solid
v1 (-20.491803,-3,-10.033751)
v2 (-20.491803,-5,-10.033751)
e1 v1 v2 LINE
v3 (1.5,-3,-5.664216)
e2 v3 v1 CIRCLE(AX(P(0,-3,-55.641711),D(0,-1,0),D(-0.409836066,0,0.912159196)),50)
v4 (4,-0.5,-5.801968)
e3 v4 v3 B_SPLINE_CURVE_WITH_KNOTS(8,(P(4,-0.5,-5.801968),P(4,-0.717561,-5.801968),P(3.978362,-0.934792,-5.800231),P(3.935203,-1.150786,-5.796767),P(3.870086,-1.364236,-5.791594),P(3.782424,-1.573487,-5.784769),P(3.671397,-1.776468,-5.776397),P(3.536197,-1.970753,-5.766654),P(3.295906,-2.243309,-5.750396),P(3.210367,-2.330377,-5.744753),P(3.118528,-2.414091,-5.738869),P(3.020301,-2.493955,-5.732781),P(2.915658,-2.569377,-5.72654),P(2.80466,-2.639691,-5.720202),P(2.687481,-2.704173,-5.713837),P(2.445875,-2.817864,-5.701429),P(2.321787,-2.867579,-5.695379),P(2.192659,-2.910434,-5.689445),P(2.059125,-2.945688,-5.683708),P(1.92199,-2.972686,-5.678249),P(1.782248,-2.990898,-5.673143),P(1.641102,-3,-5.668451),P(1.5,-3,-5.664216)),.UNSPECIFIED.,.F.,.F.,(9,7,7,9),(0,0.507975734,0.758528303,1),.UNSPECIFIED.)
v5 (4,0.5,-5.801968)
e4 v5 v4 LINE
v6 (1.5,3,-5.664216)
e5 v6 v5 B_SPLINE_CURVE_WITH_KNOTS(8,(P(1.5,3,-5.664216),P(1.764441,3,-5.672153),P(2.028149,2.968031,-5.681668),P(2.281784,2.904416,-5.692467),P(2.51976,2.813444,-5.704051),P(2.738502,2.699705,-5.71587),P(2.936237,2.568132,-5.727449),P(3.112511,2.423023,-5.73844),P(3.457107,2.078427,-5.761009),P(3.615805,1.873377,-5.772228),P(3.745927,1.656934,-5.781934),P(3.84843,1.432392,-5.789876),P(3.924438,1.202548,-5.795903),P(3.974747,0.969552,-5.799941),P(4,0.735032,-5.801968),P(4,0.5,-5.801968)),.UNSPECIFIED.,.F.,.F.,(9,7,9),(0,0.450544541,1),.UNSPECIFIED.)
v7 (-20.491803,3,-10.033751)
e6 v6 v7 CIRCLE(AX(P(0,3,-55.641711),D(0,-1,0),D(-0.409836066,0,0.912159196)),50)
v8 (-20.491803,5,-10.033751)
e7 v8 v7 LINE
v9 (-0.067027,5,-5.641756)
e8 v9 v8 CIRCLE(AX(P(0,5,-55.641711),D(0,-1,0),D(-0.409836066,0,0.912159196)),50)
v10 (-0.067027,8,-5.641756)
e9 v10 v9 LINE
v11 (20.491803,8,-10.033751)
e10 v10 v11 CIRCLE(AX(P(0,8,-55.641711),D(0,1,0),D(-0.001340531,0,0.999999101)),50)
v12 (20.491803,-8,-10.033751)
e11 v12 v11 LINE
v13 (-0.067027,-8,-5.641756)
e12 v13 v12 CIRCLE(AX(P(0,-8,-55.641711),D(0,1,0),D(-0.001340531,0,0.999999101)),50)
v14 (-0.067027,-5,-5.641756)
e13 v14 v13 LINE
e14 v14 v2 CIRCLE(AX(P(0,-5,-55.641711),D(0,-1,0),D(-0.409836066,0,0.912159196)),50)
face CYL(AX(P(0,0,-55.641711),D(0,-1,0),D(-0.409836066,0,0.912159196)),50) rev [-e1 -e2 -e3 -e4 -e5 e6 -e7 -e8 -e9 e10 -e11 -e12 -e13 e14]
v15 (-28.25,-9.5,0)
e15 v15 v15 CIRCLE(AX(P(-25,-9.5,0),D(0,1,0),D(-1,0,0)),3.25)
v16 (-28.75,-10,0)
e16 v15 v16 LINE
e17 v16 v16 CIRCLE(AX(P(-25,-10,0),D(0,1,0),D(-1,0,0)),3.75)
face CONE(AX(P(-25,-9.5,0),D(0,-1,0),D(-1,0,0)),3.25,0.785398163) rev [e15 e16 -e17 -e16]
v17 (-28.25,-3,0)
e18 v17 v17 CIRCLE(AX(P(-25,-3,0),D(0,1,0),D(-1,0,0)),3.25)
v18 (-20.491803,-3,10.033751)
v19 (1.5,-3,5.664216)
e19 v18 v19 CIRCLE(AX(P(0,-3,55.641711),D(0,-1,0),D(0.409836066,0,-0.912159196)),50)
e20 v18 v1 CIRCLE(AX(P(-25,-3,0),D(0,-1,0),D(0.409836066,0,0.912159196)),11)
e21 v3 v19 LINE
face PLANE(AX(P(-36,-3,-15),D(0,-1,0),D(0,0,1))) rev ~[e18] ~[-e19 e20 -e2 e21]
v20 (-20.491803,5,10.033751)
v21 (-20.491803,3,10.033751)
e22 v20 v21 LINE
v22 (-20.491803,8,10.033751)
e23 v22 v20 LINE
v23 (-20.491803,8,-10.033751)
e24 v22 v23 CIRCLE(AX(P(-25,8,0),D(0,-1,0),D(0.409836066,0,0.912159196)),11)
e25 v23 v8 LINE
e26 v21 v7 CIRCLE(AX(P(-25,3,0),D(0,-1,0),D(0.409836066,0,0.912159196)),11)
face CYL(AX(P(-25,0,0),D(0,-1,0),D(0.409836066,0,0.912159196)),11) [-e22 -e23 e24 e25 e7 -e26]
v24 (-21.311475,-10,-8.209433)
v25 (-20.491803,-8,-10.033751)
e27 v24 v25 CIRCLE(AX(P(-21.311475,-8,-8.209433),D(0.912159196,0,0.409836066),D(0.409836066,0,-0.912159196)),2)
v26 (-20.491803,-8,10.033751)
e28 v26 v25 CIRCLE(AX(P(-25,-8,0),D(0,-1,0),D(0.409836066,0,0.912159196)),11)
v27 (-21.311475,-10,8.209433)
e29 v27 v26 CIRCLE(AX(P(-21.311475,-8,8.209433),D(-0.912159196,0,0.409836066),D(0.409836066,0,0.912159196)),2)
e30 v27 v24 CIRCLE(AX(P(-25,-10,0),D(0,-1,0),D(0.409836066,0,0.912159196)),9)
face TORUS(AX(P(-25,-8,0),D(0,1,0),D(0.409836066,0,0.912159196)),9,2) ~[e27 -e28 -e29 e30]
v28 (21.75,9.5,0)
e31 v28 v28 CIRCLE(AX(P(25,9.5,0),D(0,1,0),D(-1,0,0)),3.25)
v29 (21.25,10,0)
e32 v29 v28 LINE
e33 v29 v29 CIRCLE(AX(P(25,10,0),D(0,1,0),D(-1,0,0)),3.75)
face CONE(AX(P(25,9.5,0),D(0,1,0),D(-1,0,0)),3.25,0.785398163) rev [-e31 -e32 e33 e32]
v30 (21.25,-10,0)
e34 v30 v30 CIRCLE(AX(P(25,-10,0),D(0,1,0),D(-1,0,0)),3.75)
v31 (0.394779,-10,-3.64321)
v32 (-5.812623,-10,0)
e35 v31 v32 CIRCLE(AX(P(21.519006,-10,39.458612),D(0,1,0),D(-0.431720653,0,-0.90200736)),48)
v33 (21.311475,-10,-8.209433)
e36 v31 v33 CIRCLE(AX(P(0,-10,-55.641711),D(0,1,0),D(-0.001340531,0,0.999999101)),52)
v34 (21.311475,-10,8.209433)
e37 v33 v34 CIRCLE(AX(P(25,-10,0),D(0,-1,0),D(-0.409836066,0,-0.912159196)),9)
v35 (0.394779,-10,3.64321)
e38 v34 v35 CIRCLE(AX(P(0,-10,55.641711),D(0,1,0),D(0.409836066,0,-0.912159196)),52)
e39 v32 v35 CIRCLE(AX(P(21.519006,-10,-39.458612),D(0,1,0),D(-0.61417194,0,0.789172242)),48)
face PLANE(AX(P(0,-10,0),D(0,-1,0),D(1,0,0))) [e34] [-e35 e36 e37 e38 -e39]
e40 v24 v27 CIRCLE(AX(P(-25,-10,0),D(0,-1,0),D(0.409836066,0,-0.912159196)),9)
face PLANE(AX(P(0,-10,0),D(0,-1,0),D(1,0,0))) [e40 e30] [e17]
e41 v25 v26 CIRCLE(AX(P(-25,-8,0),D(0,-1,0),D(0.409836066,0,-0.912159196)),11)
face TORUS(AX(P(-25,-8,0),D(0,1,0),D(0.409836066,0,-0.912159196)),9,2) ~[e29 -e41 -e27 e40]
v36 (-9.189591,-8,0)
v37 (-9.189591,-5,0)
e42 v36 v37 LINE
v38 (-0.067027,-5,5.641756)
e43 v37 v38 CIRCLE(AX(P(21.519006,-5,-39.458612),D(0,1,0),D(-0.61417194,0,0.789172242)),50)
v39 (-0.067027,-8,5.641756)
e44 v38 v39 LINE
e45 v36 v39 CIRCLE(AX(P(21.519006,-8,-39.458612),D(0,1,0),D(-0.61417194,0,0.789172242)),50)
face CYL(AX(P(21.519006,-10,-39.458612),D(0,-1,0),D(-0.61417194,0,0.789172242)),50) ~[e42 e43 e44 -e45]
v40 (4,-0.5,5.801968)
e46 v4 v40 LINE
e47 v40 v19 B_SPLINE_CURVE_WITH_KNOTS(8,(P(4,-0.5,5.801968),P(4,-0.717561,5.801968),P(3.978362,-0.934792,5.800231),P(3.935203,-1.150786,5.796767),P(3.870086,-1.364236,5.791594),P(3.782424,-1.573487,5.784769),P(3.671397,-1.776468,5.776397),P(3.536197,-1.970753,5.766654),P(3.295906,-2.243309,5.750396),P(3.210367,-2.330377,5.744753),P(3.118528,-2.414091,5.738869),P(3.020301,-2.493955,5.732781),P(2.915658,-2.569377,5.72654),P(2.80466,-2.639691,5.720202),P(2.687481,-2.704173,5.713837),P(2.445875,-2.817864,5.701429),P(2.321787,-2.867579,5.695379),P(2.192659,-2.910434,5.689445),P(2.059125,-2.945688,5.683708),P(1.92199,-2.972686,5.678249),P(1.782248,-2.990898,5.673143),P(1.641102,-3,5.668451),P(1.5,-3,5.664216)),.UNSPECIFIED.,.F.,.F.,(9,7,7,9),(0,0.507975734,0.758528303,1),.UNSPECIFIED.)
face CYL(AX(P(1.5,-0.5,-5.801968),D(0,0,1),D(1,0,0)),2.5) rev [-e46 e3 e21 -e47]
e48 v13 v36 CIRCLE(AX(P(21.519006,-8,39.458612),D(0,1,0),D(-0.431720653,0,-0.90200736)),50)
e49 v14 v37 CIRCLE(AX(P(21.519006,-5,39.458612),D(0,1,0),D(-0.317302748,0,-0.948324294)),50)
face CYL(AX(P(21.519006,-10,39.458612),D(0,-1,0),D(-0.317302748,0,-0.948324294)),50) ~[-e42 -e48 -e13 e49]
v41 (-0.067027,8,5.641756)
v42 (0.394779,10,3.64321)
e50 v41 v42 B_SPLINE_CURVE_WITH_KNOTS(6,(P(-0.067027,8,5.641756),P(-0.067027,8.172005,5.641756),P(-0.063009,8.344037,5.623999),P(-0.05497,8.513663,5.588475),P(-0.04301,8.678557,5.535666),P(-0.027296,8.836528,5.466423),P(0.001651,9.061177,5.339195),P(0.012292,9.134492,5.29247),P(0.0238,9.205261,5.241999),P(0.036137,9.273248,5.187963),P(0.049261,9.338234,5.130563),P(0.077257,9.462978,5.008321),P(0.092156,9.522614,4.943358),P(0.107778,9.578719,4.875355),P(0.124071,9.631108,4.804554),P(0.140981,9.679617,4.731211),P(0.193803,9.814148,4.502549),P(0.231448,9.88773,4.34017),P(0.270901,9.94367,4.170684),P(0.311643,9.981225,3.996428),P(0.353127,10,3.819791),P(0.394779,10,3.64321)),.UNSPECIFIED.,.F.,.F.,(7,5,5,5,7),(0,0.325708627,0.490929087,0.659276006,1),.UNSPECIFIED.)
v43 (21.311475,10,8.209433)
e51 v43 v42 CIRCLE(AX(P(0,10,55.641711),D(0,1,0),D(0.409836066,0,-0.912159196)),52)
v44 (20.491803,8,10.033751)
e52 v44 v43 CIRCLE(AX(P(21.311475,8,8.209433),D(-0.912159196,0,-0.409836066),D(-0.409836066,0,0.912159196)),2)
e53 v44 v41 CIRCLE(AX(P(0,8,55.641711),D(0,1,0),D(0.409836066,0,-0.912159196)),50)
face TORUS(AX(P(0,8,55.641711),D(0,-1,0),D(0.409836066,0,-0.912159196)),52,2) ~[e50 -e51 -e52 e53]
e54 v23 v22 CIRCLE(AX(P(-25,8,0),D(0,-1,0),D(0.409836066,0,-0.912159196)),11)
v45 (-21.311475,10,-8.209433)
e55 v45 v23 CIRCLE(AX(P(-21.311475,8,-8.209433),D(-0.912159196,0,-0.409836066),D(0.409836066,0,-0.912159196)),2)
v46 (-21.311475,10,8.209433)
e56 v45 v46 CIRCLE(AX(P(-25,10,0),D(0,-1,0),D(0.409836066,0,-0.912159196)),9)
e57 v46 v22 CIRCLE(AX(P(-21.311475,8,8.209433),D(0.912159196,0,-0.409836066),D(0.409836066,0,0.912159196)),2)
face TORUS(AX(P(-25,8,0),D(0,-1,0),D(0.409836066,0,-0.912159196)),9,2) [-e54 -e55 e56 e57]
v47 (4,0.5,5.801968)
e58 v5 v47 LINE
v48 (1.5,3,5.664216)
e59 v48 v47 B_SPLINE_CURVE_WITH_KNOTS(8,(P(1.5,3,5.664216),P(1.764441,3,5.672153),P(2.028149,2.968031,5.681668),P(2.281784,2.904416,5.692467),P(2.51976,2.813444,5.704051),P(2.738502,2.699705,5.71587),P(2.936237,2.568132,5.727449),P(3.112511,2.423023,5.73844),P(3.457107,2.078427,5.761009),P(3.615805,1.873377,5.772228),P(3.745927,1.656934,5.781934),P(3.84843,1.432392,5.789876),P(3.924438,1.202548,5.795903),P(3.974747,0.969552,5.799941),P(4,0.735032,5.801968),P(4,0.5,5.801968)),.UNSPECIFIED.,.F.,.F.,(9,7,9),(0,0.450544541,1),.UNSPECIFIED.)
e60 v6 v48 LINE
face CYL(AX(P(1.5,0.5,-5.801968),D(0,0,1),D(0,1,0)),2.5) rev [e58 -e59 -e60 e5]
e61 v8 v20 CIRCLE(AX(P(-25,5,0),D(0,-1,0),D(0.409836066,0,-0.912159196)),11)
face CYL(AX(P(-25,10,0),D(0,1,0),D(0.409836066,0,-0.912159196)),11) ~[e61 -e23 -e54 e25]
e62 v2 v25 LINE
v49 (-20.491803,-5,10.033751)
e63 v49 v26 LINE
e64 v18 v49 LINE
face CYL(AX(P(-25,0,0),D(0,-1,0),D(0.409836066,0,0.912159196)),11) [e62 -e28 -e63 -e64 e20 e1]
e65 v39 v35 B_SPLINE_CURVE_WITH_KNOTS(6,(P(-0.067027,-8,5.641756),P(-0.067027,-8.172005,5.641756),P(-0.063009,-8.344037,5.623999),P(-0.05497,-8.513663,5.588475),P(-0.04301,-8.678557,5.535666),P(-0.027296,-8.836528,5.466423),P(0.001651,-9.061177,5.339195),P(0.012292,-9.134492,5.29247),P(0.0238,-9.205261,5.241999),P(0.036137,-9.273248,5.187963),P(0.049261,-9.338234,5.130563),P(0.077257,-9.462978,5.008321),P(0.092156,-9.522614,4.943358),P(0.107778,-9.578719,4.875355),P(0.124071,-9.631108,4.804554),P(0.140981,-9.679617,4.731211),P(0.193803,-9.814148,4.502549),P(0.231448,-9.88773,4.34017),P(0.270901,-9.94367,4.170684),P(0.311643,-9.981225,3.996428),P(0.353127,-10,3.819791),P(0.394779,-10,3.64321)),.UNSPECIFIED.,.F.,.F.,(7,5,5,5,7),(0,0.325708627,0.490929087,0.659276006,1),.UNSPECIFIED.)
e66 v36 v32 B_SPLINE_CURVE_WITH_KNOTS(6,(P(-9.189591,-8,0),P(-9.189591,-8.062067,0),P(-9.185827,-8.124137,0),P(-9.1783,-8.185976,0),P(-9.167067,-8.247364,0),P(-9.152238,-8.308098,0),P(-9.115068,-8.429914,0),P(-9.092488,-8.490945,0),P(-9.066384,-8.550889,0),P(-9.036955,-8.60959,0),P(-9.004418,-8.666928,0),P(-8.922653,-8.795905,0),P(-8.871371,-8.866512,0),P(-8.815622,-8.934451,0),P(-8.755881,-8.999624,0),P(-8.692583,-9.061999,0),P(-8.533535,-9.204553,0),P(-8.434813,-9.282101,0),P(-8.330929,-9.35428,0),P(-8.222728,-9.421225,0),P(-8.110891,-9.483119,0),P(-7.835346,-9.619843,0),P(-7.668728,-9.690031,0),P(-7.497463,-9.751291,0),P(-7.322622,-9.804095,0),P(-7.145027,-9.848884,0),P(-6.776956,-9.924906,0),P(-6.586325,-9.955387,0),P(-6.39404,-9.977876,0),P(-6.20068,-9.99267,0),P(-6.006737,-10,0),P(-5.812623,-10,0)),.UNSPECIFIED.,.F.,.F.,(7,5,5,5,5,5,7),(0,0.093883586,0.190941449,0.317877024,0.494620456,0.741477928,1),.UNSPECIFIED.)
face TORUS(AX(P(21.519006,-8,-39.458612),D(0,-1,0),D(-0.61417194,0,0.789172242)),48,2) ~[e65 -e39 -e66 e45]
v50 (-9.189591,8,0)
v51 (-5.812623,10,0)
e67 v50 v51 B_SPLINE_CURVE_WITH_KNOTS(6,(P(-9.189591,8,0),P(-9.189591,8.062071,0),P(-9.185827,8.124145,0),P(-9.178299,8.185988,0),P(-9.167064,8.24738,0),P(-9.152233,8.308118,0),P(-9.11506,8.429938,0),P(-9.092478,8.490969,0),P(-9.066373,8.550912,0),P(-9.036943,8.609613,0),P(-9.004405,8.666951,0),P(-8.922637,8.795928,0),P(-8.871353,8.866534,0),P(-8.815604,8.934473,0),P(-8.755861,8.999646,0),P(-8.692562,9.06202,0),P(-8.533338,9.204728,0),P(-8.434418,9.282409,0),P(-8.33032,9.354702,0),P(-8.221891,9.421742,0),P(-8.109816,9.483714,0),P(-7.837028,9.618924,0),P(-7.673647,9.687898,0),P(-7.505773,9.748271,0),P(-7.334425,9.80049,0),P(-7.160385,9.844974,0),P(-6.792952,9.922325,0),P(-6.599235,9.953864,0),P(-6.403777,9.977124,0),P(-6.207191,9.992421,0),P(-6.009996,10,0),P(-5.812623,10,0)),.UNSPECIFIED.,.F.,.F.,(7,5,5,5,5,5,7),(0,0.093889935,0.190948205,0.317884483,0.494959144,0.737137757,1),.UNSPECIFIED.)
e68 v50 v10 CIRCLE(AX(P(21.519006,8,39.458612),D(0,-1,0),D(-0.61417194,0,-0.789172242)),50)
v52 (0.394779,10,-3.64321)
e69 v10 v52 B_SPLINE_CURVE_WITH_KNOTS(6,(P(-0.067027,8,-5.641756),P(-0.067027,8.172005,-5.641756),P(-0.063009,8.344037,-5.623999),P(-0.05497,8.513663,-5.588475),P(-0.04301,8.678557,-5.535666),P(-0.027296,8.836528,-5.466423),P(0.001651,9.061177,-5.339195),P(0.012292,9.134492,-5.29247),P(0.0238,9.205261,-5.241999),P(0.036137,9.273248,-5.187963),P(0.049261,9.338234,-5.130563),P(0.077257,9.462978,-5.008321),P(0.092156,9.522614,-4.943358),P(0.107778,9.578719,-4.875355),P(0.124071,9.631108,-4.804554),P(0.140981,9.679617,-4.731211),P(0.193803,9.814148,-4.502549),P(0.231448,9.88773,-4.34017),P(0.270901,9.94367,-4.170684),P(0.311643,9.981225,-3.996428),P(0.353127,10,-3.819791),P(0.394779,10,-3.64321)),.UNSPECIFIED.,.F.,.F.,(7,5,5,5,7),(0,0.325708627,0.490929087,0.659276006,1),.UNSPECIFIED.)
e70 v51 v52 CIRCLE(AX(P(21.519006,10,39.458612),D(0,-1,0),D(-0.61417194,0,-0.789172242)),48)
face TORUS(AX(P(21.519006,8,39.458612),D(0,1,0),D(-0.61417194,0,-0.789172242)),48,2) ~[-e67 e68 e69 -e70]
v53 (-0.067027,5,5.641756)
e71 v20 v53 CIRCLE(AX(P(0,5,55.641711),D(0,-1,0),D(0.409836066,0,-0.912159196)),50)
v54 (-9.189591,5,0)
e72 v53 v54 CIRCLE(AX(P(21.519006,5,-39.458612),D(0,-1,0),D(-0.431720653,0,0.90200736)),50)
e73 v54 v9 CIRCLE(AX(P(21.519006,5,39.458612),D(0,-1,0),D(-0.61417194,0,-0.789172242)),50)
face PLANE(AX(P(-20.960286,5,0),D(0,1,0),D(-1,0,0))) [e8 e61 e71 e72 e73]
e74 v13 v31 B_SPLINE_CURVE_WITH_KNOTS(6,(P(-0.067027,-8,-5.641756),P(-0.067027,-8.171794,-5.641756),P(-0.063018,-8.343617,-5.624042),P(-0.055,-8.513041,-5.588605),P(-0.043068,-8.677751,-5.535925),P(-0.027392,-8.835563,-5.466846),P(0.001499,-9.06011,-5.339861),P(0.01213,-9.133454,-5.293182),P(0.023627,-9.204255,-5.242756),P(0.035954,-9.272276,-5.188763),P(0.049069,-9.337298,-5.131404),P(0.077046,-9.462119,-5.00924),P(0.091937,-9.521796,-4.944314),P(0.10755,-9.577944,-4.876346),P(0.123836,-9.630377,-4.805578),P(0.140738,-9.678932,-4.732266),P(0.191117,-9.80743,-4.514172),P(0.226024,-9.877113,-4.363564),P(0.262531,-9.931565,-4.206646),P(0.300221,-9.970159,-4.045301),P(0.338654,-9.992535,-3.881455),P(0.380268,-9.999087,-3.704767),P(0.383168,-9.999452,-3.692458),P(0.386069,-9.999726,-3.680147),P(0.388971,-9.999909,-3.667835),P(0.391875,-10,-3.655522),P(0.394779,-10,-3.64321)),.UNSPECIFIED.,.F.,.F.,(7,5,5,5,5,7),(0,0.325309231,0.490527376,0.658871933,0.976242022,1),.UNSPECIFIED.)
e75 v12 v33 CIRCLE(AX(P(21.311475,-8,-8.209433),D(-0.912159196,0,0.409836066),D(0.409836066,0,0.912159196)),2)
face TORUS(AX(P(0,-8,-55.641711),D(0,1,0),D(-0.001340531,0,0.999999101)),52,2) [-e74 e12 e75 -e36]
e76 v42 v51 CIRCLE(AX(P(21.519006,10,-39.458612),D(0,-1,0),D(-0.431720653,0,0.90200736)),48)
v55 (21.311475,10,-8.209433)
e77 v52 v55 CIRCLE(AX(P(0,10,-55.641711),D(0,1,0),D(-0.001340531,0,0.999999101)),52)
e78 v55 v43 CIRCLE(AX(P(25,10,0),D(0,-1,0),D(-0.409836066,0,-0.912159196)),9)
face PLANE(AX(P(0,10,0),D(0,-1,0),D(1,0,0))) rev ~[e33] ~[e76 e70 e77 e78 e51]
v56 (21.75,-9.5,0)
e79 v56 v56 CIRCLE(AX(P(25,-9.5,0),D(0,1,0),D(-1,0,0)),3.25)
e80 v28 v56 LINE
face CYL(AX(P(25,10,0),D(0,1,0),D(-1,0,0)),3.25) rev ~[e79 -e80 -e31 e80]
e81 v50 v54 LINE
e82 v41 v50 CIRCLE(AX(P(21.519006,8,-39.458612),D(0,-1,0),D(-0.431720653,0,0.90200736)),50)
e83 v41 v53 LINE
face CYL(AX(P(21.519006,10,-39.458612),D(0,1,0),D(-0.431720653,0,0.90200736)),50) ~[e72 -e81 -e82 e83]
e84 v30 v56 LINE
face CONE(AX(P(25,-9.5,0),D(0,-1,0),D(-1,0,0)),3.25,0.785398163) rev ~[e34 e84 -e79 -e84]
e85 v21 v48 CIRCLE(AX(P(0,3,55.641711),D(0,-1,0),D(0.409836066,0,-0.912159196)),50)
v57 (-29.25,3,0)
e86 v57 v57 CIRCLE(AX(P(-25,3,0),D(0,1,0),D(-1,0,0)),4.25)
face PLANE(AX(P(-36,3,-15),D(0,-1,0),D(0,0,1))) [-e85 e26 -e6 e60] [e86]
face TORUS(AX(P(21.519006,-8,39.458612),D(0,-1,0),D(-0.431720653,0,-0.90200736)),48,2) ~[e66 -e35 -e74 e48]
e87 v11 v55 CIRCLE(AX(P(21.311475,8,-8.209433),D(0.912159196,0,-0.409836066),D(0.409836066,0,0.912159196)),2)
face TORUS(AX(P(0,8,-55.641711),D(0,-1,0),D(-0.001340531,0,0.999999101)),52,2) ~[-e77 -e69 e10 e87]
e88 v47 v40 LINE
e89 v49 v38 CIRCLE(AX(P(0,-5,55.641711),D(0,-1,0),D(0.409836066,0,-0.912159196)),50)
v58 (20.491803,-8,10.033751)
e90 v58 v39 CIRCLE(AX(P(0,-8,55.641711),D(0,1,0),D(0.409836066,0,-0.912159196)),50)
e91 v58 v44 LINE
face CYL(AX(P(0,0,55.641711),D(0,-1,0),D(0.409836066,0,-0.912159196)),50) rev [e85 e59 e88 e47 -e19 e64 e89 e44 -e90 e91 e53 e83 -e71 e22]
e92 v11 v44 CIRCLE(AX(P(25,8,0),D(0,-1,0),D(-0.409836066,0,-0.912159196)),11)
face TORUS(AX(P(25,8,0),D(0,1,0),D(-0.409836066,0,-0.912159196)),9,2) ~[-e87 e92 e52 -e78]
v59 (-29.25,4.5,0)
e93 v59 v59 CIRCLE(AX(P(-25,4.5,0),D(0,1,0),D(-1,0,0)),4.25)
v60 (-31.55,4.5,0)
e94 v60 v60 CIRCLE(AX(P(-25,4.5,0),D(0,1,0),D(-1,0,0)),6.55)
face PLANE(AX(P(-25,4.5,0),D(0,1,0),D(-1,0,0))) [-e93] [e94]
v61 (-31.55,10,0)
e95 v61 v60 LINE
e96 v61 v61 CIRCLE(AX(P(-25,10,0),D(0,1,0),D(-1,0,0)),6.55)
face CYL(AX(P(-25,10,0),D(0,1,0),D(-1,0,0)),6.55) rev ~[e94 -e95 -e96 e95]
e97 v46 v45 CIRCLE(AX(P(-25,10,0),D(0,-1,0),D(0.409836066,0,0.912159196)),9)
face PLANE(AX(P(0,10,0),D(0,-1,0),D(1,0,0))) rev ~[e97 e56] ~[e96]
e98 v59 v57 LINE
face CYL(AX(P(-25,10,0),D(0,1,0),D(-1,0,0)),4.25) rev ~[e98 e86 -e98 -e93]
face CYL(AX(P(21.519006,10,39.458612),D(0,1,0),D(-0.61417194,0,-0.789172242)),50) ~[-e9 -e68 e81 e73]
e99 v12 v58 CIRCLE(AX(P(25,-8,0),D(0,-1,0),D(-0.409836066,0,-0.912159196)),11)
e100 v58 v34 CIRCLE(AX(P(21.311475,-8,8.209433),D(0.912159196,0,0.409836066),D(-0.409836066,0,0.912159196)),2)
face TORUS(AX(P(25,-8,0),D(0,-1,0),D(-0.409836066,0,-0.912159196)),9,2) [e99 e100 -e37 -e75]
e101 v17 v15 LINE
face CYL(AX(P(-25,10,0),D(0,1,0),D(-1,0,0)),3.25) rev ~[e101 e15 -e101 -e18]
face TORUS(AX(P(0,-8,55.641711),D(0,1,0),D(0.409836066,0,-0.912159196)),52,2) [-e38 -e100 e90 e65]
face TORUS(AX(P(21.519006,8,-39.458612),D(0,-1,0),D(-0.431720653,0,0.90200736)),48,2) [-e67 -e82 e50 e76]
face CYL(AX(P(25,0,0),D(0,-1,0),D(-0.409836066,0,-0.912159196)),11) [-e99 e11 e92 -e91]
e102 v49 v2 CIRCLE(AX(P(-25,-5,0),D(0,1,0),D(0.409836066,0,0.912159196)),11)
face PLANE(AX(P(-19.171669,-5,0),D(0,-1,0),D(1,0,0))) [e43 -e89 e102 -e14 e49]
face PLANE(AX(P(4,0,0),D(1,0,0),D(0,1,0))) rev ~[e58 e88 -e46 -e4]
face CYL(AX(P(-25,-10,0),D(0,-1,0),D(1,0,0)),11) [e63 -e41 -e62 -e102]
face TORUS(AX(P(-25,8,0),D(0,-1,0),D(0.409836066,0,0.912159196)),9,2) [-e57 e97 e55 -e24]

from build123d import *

# Parameters (mm, degrees)
F1_DEPTH  = 10
F3_R      = 3.25
F4_DEPTH  = 20.001
F2_R      = 4.25
F5_DEPTH  = 9
F6_R      = 6.55
F6_R_2    = 4.25
F7_DEPTH  = 5.5
F8_R      = 11
F9_DEPTH  = 5
F11_DEPTH = 5
F12_R     = 2
F14_W     = 6
F14_H     = 30
F15_DEPTH = 40
F16_R     = 2.5
F17_SIZE  = 0.5


with BuildPart() as f1:
    # F0 (on Front) → F1 (new body, symmetric)
    with BuildSketch(Plane.XZ):
        with BuildLine():
            ThreePointArc((20.4918032787, 10.0337511591), (0, 5.641710973), (-20.4918032787, 10.0337511591))
            ThreePointArc((-20.4918032787, 10.0337511591), (-36, 0), (-20.4918032787, -10.0337511591))
            ThreePointArc((-20.4918032787, -10.0337511591), (0, -5.641710973), (20.4918032787, -10.0337511591))
            ThreePointArc((20.4918032787, -10.0337511591), (36, 0), (20.4918032787, 10.0337511591))
        make_face()
    extrude(amount=F1_DEPTH, both=True)

    # F3 (on face) → F4 (cut, through all)
    with BuildSketch(Plane(origin=(0, 10, 0), x_dir=(-1, 0, 0), z_dir=(0, 1, 0))):
        with Locations((-25, 0)):
            Circle(F3_R)
        with Locations((25, 0)):
            Circle(F3_R)
    extrude(amount=-F4_DEPTH, mode=Mode.SUBTRACT)

    # F2 (on face) → F5 (cut)
    with BuildSketch(Plane(origin=(0, 10, 0), x_dir=(-1, 0, 0), z_dir=(0, 1, 0))):
        with Locations((25, 0)):
            Circle(F2_R)
    extrude(amount=-F5_DEPTH, mode=Mode.SUBTRACT)

    # F6 (on face) → F7 (cut)
    with BuildSketch(Plane(origin=(0, 10, 0), x_dir=(-1, 0, 0), z_dir=(0, 1, 0))):
        with Locations((25, 0)):
            Circle(F6_R)
        with Locations((25, 0)):
            Circle(F6_R_2, mode=Mode.SUBTRACT)
    extrude(amount=-F7_DEPTH, mode=Mode.SUBTRACT)

    # F8 (on face) → F9 (cut)
    with BuildSketch(Plane.XZ.offset(10)):
        with BuildLine():
            ThreePointArc((5.6538687387, -7.9576025909), (-2.1053254823, -4.6082797346), (-9.1895908953, 0))
            ThreePointArc((-9.1895908953, 0), (-2.1053254823, 4.6082797346), (5.6538687387, 7.9576025909))
            Line((5.6538687387, 7.9576025909), (-41.2745177746, 16.0983856767))
            Line((-41.2745177746, 16.0983856767), (-41.2745177746, 0))
            Line((-41.2745177746, 0), (-41.2745177746, -16.0983856767))
            Line((-41.2745177746, -16.0983856767), (5.6538687387, -7.9576025909))
        make_face()
        with Locations((-25, 0)):
            Circle(F8_R, mode=Mode.SUBTRACT)
    extrude(amount=-F9_DEPTH, mode=Mode.SUBTRACT)

    # F10 (on face) → F11 (cut)
    with BuildSketch(Plane(origin=(0, 10, 0), x_dir=(-1, 0, 0), z_dir=(0, 1, 0))):
        with BuildLine():
            Line((-5.6538687387, -7.9576025909), (41.2745177746, -16.0983856767))
            Line((41.2745177746, -16.0983856767), (41.2745177746, 0))
            Line((41.2745177746, 0), (41.2745177746, 16.0983856767))
            Line((41.2745177746, 16.0983856767), (-5.6538687387, 7.9576025909))
            ThreePointArc((-5.6538687387, 7.9576025909), (-2.7576543334, 6.8880347996), (0.0670265411, 5.6417558986))
            ThreePointArc((0.0670265411, 5.6417558986), (10.5113641589, 6.7590839617), (20.4918032787, 10.0337511591))
            ThreePointArc((20.4918032787, 10.0337511591), (30.9753592388, 9.235533659), (36, 0))
            ThreePointArc((36, 0), (30.9753592388, -9.235533659), (20.4918032787, -10.0337511591))
            ThreePointArc((20.4918032787, -10.0337511591), (10.5113641589, -6.7590839617), (0.0670265411, -5.6417558986))
            ThreePointArc((0.0670265411, -5.6417558986), (-2.7576543334, -6.8880347996), (-5.6538687387, -7.9576025909))
        make_face()
        with BuildLine():
            ThreePointArc((9.1895908953, 0), (4.7800323728, -3.0662109323), (0.0670265411, -5.6417558986))
            ThreePointArc((0.0670265411, -5.6417558986), (10.5113641589, -6.7590839617), (20.4918032787, -10.0337511591))
            ThreePointArc((20.4918032787, -10.0337511591), (14, 0), (20.4918032787, 10.0337511591))
            ThreePointArc((20.4918032787, 10.0337511591), (10.5113641589, 6.7590839617), (0.0670265411, 5.6417558986))
            ThreePointArc((0.0670265411, 5.6417558986), (4.7800323728, 3.0662109323), (9.1895908953, 0))
        make_face()
    extrude(amount=-F11_DEPTH, mode=Mode.SUBTRACT)

    # F12
    f12_edges = [f1.edges().sort_by_distance(p)[0] for p in [
        (-36, -10, 0),
        (-4.780032, -10, -3.066211),
        (-4.780032, -10, 3.066211),
        (10.445826, -10, 6.745037),
        (10.445826, 10, -6.745037),
        (-4.780032, 10, -3.066211),
        (-4.780032, 10, 3.066211),
        (-29.508197, 10, -10.033751),
    ]]
    fillet(f12_edges, radius=F12_R)

    # F14 (on offset) → F15 (cut)
    with BuildSketch(Plane.YZ.offset(-36)):
        Rectangle(F14_W, F14_H)
    extrude(amount=F15_DEPTH, mode=Mode.SUBTRACT)

    # F16
    f16_edges = [f1.edges().sort_by_distance(p)[0] for p in [
        (4, 3, 0),
        (4, -3, 0),
    ]]
    fillet(f16_edges, radius=F16_R)

    # F17
    f17_edges = [f1.edges().sort_by_distance(p)[0] for p in [
        (-21.75, -10, 0),
        (28.25, -10, 0),
        (28.25, 10, 0),
    ]]
    chamfer(f17_edges, length=F17_SIZE)


solid = f1.part
